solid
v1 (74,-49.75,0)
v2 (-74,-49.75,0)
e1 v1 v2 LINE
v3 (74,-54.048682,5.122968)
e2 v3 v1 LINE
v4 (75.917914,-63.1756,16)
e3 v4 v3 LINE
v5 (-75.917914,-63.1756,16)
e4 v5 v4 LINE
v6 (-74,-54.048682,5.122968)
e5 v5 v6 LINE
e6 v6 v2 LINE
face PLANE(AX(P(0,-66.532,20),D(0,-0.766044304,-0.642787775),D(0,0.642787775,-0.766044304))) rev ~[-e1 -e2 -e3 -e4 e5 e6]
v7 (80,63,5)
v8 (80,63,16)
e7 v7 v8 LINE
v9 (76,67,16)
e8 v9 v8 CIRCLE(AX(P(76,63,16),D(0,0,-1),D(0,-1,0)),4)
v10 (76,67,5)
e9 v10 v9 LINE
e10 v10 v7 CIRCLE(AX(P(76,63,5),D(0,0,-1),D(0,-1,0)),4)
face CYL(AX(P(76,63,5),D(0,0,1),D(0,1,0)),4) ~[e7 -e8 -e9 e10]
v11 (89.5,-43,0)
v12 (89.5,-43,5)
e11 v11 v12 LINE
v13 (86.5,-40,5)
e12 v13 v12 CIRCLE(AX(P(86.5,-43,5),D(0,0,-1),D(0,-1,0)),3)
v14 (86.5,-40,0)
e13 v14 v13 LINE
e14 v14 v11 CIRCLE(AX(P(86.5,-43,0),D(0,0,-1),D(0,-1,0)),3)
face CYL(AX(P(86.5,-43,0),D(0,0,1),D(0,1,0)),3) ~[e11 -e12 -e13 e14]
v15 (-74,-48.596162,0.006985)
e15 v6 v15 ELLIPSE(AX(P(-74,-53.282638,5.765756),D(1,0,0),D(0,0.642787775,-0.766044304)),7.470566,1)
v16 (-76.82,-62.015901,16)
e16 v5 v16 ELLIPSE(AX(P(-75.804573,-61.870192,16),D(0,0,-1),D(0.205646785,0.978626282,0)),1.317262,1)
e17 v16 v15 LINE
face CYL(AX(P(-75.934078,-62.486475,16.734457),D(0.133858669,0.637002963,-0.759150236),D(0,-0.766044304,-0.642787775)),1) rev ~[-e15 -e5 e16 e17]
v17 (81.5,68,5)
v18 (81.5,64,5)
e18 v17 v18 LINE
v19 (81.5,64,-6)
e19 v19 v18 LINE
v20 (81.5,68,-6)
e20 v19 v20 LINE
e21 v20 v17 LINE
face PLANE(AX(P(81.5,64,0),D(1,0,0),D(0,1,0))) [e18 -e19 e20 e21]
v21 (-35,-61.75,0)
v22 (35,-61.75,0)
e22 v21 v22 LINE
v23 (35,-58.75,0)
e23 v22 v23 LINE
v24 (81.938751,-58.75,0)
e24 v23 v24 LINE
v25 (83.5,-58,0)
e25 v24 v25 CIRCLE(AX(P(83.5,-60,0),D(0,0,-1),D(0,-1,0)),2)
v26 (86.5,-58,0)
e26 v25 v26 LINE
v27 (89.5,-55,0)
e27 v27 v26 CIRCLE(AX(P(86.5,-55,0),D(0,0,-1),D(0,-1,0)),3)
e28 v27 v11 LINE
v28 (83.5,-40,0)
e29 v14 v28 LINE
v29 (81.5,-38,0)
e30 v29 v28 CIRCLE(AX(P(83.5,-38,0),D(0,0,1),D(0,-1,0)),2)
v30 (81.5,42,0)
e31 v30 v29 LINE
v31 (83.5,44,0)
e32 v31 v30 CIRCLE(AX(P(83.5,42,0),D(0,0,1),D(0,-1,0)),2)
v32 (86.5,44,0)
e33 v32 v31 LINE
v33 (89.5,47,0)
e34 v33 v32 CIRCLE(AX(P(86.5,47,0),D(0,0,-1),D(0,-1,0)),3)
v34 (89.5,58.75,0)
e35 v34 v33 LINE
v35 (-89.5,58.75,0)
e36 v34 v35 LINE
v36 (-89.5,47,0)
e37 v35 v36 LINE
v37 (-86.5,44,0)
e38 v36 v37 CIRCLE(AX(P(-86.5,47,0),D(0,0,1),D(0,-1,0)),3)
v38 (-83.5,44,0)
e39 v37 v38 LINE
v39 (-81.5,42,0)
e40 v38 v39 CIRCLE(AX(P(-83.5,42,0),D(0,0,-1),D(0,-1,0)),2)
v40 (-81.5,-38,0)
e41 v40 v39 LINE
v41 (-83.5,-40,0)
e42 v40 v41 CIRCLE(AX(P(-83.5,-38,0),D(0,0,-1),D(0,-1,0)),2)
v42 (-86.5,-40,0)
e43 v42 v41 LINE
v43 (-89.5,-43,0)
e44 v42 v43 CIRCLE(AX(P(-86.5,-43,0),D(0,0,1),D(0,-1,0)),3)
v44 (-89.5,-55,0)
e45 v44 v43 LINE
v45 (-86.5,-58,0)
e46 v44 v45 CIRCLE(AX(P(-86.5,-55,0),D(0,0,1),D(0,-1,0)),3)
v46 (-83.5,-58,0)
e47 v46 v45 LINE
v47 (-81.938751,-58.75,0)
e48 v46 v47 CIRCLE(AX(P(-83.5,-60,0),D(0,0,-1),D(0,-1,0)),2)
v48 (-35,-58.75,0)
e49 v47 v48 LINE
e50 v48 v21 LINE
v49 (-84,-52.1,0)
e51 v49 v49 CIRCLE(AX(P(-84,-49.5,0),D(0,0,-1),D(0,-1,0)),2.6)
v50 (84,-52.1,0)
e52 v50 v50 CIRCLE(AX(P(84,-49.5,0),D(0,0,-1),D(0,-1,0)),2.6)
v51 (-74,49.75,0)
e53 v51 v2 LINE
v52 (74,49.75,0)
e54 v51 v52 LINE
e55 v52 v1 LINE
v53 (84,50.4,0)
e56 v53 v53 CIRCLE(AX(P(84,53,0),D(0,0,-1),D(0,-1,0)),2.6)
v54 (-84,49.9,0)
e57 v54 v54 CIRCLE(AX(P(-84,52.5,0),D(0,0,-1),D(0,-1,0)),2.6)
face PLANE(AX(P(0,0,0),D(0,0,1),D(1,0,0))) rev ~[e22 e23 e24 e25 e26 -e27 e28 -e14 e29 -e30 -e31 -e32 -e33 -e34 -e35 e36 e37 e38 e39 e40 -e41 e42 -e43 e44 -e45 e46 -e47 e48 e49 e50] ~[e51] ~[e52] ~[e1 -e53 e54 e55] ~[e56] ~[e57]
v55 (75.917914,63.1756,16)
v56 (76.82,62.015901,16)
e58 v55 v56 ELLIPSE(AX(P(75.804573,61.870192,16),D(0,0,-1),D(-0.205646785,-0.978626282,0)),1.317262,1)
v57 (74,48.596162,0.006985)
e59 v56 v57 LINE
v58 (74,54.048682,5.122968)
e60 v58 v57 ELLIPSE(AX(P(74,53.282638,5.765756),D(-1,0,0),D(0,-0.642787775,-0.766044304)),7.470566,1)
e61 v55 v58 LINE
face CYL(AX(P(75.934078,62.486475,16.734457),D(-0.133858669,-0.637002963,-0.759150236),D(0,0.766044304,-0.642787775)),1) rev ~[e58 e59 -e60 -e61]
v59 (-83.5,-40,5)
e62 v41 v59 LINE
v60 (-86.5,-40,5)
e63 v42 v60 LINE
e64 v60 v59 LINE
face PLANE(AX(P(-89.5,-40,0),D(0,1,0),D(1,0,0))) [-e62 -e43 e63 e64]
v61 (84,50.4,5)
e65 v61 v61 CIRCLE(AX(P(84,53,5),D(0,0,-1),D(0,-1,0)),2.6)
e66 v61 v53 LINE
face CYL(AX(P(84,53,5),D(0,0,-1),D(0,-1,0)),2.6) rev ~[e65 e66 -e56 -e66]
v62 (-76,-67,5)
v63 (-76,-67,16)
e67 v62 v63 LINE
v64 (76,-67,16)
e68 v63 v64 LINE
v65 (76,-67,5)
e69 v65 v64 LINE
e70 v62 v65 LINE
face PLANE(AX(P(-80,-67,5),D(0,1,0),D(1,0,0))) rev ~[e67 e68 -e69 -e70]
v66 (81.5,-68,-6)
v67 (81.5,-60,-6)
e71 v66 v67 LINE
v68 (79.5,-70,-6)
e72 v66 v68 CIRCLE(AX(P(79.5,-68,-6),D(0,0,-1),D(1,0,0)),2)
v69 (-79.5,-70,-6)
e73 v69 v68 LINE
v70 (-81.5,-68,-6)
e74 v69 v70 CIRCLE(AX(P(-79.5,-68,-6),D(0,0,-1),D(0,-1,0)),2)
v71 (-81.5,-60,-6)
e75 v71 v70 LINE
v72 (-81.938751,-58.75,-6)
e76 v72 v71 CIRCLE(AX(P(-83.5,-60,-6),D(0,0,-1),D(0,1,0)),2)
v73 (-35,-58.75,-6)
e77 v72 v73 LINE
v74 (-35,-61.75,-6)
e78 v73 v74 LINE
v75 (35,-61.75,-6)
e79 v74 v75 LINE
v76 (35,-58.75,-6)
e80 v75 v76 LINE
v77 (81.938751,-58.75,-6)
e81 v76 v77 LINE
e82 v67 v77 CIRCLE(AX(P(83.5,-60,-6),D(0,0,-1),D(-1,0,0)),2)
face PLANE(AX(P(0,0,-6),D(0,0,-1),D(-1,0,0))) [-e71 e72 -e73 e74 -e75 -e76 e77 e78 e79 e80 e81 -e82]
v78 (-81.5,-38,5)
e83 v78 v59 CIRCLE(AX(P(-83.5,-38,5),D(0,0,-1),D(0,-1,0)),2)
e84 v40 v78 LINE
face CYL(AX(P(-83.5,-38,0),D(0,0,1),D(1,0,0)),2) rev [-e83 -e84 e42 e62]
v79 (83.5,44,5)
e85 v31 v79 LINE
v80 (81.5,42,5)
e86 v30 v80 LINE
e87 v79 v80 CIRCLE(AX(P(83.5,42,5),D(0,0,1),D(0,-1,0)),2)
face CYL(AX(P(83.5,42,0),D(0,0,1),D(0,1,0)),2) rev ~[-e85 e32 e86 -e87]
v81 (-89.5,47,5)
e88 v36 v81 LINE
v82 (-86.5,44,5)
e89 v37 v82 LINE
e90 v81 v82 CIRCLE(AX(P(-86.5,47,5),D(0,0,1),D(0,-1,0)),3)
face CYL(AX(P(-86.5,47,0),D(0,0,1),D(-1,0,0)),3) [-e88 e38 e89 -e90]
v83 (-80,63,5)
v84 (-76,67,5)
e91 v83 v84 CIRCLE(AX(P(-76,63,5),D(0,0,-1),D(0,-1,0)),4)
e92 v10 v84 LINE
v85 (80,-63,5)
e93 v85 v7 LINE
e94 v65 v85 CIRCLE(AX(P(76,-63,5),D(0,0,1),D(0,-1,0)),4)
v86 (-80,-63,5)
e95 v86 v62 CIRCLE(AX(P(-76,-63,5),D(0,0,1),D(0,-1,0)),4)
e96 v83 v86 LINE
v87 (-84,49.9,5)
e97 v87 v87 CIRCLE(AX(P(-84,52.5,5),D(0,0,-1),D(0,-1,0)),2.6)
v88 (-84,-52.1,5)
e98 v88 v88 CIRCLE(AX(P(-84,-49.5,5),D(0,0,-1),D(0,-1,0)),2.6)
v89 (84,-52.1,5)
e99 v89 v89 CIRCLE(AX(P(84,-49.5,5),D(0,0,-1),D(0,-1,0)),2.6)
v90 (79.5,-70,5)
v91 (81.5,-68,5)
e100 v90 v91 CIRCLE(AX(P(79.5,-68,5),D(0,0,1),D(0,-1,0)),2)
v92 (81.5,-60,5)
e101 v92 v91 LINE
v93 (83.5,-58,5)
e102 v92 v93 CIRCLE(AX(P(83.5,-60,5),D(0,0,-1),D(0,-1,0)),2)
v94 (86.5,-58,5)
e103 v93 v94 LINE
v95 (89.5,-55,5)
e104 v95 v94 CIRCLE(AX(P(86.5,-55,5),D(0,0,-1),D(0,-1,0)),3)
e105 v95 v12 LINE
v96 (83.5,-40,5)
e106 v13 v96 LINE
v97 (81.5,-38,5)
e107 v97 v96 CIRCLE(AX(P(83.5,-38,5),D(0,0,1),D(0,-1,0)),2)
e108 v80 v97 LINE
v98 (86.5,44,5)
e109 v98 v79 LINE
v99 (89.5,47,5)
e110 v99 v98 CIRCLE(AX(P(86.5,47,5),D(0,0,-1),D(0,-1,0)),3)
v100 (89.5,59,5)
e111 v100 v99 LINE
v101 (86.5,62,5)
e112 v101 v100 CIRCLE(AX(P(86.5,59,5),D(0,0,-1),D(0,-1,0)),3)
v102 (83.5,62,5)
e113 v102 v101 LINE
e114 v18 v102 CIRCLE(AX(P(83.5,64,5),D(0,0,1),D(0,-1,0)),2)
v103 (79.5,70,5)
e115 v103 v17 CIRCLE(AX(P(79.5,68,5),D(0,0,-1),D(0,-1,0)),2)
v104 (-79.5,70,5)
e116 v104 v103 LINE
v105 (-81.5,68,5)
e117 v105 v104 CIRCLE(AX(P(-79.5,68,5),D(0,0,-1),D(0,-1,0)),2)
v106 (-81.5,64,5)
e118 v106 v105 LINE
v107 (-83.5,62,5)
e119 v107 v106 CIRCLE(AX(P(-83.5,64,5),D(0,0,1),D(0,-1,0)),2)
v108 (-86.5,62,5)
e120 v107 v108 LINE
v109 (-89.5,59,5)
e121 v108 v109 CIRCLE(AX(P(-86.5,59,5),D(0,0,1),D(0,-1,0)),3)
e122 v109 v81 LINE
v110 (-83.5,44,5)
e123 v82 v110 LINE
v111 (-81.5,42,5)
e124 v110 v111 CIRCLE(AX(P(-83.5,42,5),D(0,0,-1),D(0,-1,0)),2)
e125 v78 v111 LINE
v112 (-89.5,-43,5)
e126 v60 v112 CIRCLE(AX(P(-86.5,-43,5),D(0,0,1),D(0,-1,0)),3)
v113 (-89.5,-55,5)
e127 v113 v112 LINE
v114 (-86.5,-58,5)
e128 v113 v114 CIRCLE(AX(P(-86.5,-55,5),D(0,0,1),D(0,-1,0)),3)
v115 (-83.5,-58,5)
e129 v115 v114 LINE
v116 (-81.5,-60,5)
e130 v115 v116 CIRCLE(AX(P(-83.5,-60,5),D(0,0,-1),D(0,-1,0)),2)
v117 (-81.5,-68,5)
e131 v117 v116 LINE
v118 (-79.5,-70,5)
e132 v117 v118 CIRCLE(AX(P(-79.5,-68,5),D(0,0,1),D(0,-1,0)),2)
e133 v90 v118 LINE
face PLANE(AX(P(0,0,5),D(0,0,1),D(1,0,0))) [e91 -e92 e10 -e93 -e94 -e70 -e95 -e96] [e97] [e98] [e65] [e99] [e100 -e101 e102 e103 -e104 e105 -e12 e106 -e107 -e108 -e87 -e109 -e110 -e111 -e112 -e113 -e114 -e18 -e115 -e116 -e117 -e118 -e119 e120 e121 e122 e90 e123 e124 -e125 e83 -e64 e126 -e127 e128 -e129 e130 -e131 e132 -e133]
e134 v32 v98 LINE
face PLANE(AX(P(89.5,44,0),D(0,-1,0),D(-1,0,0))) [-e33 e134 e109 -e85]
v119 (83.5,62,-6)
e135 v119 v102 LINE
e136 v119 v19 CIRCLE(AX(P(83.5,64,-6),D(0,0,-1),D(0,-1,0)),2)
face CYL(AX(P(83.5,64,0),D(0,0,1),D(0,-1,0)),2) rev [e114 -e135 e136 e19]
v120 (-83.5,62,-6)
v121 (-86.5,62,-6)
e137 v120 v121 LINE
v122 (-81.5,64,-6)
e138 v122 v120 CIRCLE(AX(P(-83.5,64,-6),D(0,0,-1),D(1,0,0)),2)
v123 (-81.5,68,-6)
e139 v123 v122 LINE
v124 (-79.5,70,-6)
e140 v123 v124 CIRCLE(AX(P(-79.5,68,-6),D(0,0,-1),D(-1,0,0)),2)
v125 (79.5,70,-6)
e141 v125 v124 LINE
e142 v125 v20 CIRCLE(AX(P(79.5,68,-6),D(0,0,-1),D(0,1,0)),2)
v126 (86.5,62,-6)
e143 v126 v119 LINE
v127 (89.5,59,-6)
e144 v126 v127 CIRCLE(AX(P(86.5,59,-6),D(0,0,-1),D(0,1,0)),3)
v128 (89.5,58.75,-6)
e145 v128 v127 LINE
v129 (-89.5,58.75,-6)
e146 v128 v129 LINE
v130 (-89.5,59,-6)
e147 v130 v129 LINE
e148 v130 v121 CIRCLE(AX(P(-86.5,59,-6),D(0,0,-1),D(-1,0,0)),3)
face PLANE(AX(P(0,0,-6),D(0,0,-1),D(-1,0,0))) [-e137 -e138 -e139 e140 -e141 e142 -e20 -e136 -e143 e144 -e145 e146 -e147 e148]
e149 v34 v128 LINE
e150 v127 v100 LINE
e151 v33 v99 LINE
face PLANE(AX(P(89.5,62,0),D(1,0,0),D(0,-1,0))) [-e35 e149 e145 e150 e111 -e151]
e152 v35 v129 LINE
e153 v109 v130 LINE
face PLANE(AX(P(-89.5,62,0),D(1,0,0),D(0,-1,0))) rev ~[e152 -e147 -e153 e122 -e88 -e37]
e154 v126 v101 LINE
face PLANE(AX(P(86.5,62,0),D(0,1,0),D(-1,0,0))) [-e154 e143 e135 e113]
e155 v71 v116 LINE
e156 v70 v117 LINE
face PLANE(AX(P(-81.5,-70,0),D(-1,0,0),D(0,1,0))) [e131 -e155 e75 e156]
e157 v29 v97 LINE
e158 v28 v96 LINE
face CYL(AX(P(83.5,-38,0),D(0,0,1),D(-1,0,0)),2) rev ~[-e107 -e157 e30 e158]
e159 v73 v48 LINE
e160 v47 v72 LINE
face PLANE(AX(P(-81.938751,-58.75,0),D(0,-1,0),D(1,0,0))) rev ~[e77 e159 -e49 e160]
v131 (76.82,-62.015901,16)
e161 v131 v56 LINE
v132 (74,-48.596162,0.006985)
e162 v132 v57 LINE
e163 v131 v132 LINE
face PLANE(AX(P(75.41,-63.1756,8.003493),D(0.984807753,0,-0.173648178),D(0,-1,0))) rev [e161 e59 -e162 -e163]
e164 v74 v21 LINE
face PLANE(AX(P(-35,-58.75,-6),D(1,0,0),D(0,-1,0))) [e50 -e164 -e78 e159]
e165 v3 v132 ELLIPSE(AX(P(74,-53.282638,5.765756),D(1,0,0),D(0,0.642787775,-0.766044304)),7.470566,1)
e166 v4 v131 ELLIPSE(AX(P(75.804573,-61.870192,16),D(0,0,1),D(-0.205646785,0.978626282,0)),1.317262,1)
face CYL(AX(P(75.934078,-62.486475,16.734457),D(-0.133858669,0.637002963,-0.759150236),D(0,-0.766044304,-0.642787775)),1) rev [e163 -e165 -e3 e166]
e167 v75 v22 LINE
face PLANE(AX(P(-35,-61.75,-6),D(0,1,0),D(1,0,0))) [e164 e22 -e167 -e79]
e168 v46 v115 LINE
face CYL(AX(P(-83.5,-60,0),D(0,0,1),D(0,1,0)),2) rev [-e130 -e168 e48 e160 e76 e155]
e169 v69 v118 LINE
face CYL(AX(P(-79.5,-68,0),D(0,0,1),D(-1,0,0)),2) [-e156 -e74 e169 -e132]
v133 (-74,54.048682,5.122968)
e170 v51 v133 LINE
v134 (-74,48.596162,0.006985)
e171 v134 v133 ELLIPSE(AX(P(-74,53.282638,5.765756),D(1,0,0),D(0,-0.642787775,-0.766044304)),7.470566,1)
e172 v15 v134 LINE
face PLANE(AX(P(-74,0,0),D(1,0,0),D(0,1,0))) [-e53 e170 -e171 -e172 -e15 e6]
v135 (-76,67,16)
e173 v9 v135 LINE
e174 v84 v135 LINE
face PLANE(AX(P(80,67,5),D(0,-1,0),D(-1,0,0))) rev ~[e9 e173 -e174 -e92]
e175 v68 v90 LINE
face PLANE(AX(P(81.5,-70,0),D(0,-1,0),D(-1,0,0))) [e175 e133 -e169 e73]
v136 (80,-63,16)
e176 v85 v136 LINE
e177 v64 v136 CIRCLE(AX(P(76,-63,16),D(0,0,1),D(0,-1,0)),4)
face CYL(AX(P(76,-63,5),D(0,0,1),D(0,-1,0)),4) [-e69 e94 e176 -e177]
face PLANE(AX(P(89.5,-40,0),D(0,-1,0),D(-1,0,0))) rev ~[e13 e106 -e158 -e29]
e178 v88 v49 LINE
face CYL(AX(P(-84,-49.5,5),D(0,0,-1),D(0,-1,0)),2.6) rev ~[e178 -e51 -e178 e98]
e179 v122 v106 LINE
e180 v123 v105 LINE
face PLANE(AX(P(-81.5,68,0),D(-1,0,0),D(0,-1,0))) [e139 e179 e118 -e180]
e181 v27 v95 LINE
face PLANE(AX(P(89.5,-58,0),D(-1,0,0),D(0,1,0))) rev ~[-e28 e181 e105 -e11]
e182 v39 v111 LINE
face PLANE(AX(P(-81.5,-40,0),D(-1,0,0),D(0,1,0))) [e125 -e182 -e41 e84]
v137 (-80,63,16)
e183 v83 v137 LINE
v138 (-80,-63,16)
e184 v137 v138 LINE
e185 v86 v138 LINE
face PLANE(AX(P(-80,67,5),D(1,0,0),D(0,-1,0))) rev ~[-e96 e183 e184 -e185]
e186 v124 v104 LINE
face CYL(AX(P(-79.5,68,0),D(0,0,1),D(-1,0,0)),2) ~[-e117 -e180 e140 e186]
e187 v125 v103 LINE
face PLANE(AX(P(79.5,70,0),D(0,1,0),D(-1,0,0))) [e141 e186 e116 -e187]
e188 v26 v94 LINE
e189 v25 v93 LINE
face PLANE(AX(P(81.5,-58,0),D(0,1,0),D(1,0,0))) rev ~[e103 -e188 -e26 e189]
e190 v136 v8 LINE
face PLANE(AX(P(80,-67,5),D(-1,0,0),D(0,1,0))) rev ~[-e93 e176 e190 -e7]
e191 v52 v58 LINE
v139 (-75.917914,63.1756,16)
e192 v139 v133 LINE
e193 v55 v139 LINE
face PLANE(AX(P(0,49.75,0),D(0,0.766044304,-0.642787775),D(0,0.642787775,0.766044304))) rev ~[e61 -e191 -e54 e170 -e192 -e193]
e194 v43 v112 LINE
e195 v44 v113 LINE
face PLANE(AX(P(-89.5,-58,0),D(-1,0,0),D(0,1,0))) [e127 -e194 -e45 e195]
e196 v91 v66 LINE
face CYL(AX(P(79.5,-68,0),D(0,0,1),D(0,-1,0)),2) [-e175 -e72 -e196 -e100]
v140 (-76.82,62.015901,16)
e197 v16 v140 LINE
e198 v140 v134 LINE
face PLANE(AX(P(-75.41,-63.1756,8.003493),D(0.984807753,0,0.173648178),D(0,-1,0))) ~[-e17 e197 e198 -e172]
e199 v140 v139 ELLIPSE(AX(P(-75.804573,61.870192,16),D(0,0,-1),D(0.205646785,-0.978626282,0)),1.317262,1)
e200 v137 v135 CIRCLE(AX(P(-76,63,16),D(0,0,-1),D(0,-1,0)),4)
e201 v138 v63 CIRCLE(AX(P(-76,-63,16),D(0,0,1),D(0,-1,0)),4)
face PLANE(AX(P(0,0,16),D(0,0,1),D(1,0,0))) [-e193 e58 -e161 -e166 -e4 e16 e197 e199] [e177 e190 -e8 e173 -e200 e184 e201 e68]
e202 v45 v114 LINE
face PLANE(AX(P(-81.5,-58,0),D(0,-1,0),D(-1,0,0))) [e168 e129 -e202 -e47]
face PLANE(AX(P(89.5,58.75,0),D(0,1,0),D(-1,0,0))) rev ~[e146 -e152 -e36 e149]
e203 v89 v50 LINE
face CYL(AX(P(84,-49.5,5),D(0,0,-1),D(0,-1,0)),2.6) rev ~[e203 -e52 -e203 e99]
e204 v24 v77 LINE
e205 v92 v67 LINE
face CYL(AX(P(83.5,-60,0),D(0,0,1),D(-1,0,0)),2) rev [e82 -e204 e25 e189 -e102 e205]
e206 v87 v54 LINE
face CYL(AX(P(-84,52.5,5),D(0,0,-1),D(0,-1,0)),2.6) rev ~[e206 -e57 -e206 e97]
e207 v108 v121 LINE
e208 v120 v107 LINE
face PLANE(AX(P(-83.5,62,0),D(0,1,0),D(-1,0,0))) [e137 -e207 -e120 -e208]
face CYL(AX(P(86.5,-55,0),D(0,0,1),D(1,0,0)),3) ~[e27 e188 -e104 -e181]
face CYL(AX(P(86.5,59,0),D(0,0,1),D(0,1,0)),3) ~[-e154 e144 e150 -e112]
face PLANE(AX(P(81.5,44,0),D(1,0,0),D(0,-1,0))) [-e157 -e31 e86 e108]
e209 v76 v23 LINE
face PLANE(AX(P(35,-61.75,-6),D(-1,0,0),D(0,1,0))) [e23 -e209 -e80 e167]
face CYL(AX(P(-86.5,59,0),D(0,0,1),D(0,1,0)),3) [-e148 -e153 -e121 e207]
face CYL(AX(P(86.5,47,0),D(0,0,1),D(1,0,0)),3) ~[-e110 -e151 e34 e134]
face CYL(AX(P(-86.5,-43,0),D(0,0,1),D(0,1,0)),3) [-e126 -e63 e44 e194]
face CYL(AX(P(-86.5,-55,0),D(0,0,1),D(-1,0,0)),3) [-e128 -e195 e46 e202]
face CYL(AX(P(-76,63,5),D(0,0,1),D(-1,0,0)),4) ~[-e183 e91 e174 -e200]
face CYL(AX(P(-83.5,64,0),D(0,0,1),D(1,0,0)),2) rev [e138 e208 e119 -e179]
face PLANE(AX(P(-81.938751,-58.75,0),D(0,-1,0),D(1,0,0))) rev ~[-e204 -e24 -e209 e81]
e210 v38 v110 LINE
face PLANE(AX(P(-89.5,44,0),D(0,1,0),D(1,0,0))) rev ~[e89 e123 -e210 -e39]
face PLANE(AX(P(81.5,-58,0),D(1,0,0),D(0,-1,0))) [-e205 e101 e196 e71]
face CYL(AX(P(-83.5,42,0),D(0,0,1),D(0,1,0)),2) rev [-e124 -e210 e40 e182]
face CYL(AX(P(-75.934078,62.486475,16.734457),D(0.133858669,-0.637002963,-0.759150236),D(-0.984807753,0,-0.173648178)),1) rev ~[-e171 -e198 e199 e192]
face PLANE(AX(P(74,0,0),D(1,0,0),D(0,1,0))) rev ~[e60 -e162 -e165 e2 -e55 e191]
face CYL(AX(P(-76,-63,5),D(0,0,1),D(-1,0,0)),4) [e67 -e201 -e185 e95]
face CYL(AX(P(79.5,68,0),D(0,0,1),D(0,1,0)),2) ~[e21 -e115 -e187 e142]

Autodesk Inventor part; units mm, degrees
ref_plane "YZ Plane" through (0, 0, 0) normal (1, 0, 0) x (0, 1, 0)
ref_plane "XZ Plane" through (0, 0, 0) normal (0, 1, 0) x (-1, 0, 0)
ref_plane "XY Plane" through (0, 0, 0) normal (0, 0, 1) x (1, 0, 0)
sketch "Sketch1" plane through (0, 0, 0) normal (0, 0, 1) x (1, 0, 0)
  line L0 (-81.5, 70) -> (81.5, 70)
  line L1 (81.5, 70) -> (81.5, -70)
  line L2 (81.5, -70) -> (-81.5, -70)
  line L3 (-81.5, -70) -> (-81.5, 70)
  line L4 (-81.5, 70) -> (81.5, -70) construction
  line L5 (81.5, 70) -> (-81.5, -70) construction
  line L6 (81.5, 62) -> (89.5, 62)
  line L7 (89.5, 62) -> (89.5, 44)
  line L8 (89.5, 44) -> (81.5, 44)
  line L9 (81.5, 44) -> (81.5, 62)
  line L10 (81.5, -58) -> (89.5, -58)
  line L11 (89.5, -58) -> (89.5, -40)
  line L12 (89.5, -40) -> (81.5, -40)
  line L13 (81.5, -40) -> (81.5, -58)
  line L14 (-81.5, 62) -> (-89.5, 62)
  line L15 (-89.5, 62) -> (-89.5, 44)
  line L16 (-89.5, 44) -> (-81.5, 44)
  line L17 (-81.5, 44) -> (-81.5, 62)
  line L18 (-81.5, -58) -> (-89.5, -58)
  line L19 (-89.5, -58) -> (-89.5, -40)
  line L20 (-89.5, -40) -> (-81.5, -40)
  line L21 (-81.5, -40) -> (-81.5, -58)
  point P0 (0, 0)
  dimension "d0" = 163
  dimension "d1" = 140
  dimension "d2" = 8
  dimension "d3" = 18
  dimension "d4" = 8
  dimension "d5" = 12
extrude "Extrusion1" add sketch "Sketch1" along normal blind 5
sketch "Sketch2" plane through (0, 0, 5) normal (0, 0, 1) x (1, 0, 0)
  line L0 (-80, -67) -> (80, -67)
  line L1 (80, -67) -> (80, 67)
  line L2 (80, 67) -> (-80, 67)
  line L3 (-80, 67) -> (-80, -67)
  line L4 (-80, -67) -> (80, 67) construction
  line L5 (80, -67) -> (-80, 67) construction
  line L6 (81.5, 70) -> (-81.5, 70) projected
  line L7 (81.5, -40) -> (81.5, 44) projected
  point P0 (0, 0)
  dimension "d48" = 160
  dimension "d49" = 134
extrude "Extrusion2" add sketch "Sketch2" along normal blind 11
sketch "Sketch3" plane through (0, 0, 0) normal (1, 0, 0) x (0, 1, 0)
  line L0 (49.75, 0) -> (-49.75, 0)
  line L1 (49.75, 0) -> (66.532, 20)
  line L2 (66.532, 20) -> (-66.532, 20)
  line L3 (-66.532, 20) -> (-49.75, 0)
  point P0 (0, 0)
  point P1 (0, 0)
  dimension "d12" = 99.5
  dimension "d13" = 20
  dimension "d14" = 130
  dimension "d15" = 130
extrude "Extrusion3" cut sketch "Sketch3" against normal mid plane 148
chamfer "Chamfer1" distance 2.82 angle 80 1 edges at (74, 0, 16) measured on face at (78, -21.0585, 16)
chamfer "Chamfer2" distance 2.82 angle 80 1 edges at (-74, 0, 16) measured on face at (-78, 21.0585, 16)
fillet "Fillet1" radius 4 4 edges at (-80, 67, 10.5) (-80, -67, 10.5) (80, 67, 10.5) (80, -67, 10.5)
fillet "Fillet3" radius 1 4 edges at (-75.41, -56.4657, 8.0035) (75.41, -56.4657, 8.0035) (75.41, 56.4657, 8.0035) (-75.41, 56.4657, 8.0035)
fillet "Fillet4" radius 3 8 edges at (89.5, 62, 2.5) (89.5, -40, 2.5) (89.5, -58, 2.5) (89.5, 44, 2.5) (-89.5, 62, 2.5) (-89.5, 44, 2.5) (-89.5, -40, 2.5) (-89.5, -58, 2.5)
fillet "Fillet5" radius 2 12 edges at (-81.5, 70, 2.5) (81.5, 70, 2.5) (-81.5, -70, 2.5) (81.5, -70, 2.5) (-81.5, -58, 2.5) (-81.5, 44, 2.5) (81.5, -40, 2.5) (81.5, -58, 2.5) (81.5, 62, 2.5) (-81.5, 62, 2.5) (-81.5, -40, 2.5) (81.5, 44, 2.5)
sketch "Sketch4" plane through (0, 0, 5) normal (0, 0, 1) x (1, 0, 0)
  line L0 (-84, -50.9) -> (84, -50.9)
  line L1 (84, -50.9) -> (84, 50.9)
  line L2 (84, 50.9) -> (-84, 50.9)
  line L3 (-84, 50.9) -> (-84, -50.9)
  line L4 (-84, -50.9) -> (84, 50.9) construction
  line L5 (84, -50.9) -> (-84, 50.9) construction
  line L6 (-89.5, 59) -> (-89.5, 47) projected
  line L7 (89.5, 47) -> (89.5, 59) projected
  line L8 (89.5, -55) -> (89.5, -43) projected
  line L9 (-89.5, -43) -> (-89.5, -55) projected
  line L10 (76, 67) -> (-76, 67) projected
  point P0 (0, 0)
  point P1 (-84, 52.5)
  point P2 (84, 53)
  point P3 (84, -49.5)
  point P4 (-84, -49.5)
  point P5 (89.5, 53)
  dimension "d30" = 168
  dimension "d38" = 102
  dimension "d39" = 101.8
  dimension "d50" = 14.5
hole "Hole1" at (-84, 52.5, 5) at (84, 53, 5) at (84, -49.5, 5) at (-84, -49.5, 5) direction (0, 0, -1) diameter 5.2 end through all
sketch "Sketch5" plane through (0, 0, 0) normal (0, 0, -1) x (-1, 0, 0)
  line L0 (-96.4, 58.75) -> (96.4, 58.75)
  line L1 (96.4, 58.75) -> (96.4, -58.75)
  line L2 (96.4, -58.75) -> (-96.4, -58.75)
  line L3 (-96.4, -58.75) -> (-96.4, 58.75)
  line L4 (-96.4, 58.75) -> (96.4, -58.75) construction
  line L5 (96.4, 58.75) -> (-96.4, -58.75) construction
  circle A0 centre (-84, -49.5) radius 2.6 projected
  circle A1 centre (84, 52.5) radius 2.6 projected
  circle A2 centre (-84, 53) radius 2.6 projected
  circle A3 centre (84, -49.5) radius 2.6 projected
  line L6 (-74, -49.75) -> (-74, 49.75) projected
  line L7 (-74, 49.75) -> (74, 49.75) projected
  line L8 (74, 49.75) -> (74, -49.75) projected
  line L9 (74, -49.75) -> (-74, -49.75) projected
  arc A4 (-81.5, -68) -> (-79.5, -70) centre (-79.5, -68) ccw projected
  line L10 (79.5, -70) -> (-79.5, -70) projected
  arc A5 (79.5, -70) -> (81.5, -68) centre (79.5, -68) ccw projected
  line L11 (81.5, -60) -> (81.5, -68) projected
  arc A6 (83.5, -58) -> (81.5, -60) centre (83.5, -60) ccw projected
  line L12 (86.5, -58) -> (83.5, -58) projected
  arc A7 (86.5, -58) -> (89.5, -55) centre (86.5, -55) ccw projected
  line L13 (89.5, -43) -> (89.5, -55) projected
  arc A8 (89.5, -43) -> (86.5, -40) centre (86.5, -43) ccw projected
  line L14 (83.5, -40) -> (86.5, -40) projected
  arc A9 (81.5, -38) -> (83.5, -40) centre (83.5, -38) ccw projected
  line L15 (81.5, 42) -> (81.5, -38) projected
  arc A10 (83.5, 44) -> (81.5, 42) centre (83.5, 42) ccw projected
  line L16 (86.5, 44) -> (83.5, 44) projected
  arc A11 (86.5, 44) -> (89.5, 47) centre (86.5, 47) ccw projected
  line L17 (89.5, 59) -> (89.5, 47) projected
  arc A12 (89.5, 59) -> (86.5, 62) centre (86.5, 59) ccw projected
  line L18 (83.5, 62) -> (86.5, 62) projected
  arc A13 (81.5, 64) -> (83.5, 62) centre (83.5, 64) ccw projected
  line L19 (81.5, 68) -> (81.5, 64) projected
  arc A14 (81.5, 68) -> (79.5, 70) centre (79.5, 68) ccw projected
  line L20 (-79.5, 70) -> (79.5, 70) projected
  arc A15 (-79.5, 70) -> (-81.5, 68) centre (-79.5, 68) ccw projected
  line L21 (-81.5, 64) -> (-81.5, 68) projected
  arc A16 (-83.5, 62) -> (-81.5, 64) centre (-83.5, 64) ccw projected
  line L22 (-86.5, 62) -> (-83.5, 62) projected
  arc A17 (-86.5, 62) -> (-89.5, 59) centre (-86.5, 59) ccw projected
  line L23 (-89.5, 47) -> (-89.5, 59) projected
  arc A18 (-89.5, 47) -> (-86.5, 44) centre (-86.5, 47) ccw projected
  line L24 (-83.5, 44) -> (-86.5, 44) projected
  arc A19 (-81.5, 42) -> (-83.5, 44) centre (-83.5, 42) ccw projected
  line L25 (-81.5, -38) -> (-81.5, 42) projected
  arc A20 (-83.5, -40) -> (-81.5, -38) centre (-83.5, -38) ccw projected
  line L26 (-86.5, -40) -> (-83.5, -40) projected
  arc A21 (-86.5, -40) -> (-89.5, -43) centre (-86.5, -43) ccw projected
  line L27 (-89.5, -55) -> (-89.5, -43) projected
  arc A22 (-89.5, -55) -> (-86.5, -58) centre (-86.5, -55) ccw projected
  line L28 (-83.5, -58) -> (-86.5, -58) projected
  arc A23 (-81.5, -60) -> (-83.5, -58) centre (-83.5, -60) ccw projected
  line L29 (-81.5, -68) -> (-81.5, -60) projected
  point P0 (0, 0)
  point P1 (89.458, -58.5)
  point P2 (-89.458, -58.5)
  point P3 (-89.5, 58.75)
  point P4 (89.5, 58.75)
  point P5 (81.9388, -58.75)
  point P6 (-81.9388, -58.75)
  dimension "d40" = 192.8
  dimension "d41" = 117.5
extrude "Extrusion4" add sketch "Sketch5" along normal blind 6 contours L23 A17 L22 A16 L21 A15 L20 A14 L19 A13 L18 A12 L17 L0 | L2 A6 L11 A5 L10 A4 L29 A23
sketch "Sketch6" plane through (0, 0, -6) normal (0, 0, -1) x (-1, 0, 0)
  line L0 (81.9388, -58.75) -> (-81.9388, -58.75) projected
  line L1 (-35, -58.75) -> (35, -58.75)
  line L2 (35, -58.75) -> (35, -61.75)
  line L3 (35, -61.75) -> (-35, -61.75)
  line L4 (-35, -61.75) -> (-35, -58.75)
  point P0 (0, 0)
  point P1 (89.458, -58.5)
  point P2 (-89.458, -58.5)
  point P3 (0, -58.75)
  point P4 (35, -58.5)
  dimension "d44" = 3
  dimension "d45" = 70
extrude "Extrusion5" cut sketch "Sketch6" against normal up to surface (6 mm away)
properties part number "DisplayBezel"
